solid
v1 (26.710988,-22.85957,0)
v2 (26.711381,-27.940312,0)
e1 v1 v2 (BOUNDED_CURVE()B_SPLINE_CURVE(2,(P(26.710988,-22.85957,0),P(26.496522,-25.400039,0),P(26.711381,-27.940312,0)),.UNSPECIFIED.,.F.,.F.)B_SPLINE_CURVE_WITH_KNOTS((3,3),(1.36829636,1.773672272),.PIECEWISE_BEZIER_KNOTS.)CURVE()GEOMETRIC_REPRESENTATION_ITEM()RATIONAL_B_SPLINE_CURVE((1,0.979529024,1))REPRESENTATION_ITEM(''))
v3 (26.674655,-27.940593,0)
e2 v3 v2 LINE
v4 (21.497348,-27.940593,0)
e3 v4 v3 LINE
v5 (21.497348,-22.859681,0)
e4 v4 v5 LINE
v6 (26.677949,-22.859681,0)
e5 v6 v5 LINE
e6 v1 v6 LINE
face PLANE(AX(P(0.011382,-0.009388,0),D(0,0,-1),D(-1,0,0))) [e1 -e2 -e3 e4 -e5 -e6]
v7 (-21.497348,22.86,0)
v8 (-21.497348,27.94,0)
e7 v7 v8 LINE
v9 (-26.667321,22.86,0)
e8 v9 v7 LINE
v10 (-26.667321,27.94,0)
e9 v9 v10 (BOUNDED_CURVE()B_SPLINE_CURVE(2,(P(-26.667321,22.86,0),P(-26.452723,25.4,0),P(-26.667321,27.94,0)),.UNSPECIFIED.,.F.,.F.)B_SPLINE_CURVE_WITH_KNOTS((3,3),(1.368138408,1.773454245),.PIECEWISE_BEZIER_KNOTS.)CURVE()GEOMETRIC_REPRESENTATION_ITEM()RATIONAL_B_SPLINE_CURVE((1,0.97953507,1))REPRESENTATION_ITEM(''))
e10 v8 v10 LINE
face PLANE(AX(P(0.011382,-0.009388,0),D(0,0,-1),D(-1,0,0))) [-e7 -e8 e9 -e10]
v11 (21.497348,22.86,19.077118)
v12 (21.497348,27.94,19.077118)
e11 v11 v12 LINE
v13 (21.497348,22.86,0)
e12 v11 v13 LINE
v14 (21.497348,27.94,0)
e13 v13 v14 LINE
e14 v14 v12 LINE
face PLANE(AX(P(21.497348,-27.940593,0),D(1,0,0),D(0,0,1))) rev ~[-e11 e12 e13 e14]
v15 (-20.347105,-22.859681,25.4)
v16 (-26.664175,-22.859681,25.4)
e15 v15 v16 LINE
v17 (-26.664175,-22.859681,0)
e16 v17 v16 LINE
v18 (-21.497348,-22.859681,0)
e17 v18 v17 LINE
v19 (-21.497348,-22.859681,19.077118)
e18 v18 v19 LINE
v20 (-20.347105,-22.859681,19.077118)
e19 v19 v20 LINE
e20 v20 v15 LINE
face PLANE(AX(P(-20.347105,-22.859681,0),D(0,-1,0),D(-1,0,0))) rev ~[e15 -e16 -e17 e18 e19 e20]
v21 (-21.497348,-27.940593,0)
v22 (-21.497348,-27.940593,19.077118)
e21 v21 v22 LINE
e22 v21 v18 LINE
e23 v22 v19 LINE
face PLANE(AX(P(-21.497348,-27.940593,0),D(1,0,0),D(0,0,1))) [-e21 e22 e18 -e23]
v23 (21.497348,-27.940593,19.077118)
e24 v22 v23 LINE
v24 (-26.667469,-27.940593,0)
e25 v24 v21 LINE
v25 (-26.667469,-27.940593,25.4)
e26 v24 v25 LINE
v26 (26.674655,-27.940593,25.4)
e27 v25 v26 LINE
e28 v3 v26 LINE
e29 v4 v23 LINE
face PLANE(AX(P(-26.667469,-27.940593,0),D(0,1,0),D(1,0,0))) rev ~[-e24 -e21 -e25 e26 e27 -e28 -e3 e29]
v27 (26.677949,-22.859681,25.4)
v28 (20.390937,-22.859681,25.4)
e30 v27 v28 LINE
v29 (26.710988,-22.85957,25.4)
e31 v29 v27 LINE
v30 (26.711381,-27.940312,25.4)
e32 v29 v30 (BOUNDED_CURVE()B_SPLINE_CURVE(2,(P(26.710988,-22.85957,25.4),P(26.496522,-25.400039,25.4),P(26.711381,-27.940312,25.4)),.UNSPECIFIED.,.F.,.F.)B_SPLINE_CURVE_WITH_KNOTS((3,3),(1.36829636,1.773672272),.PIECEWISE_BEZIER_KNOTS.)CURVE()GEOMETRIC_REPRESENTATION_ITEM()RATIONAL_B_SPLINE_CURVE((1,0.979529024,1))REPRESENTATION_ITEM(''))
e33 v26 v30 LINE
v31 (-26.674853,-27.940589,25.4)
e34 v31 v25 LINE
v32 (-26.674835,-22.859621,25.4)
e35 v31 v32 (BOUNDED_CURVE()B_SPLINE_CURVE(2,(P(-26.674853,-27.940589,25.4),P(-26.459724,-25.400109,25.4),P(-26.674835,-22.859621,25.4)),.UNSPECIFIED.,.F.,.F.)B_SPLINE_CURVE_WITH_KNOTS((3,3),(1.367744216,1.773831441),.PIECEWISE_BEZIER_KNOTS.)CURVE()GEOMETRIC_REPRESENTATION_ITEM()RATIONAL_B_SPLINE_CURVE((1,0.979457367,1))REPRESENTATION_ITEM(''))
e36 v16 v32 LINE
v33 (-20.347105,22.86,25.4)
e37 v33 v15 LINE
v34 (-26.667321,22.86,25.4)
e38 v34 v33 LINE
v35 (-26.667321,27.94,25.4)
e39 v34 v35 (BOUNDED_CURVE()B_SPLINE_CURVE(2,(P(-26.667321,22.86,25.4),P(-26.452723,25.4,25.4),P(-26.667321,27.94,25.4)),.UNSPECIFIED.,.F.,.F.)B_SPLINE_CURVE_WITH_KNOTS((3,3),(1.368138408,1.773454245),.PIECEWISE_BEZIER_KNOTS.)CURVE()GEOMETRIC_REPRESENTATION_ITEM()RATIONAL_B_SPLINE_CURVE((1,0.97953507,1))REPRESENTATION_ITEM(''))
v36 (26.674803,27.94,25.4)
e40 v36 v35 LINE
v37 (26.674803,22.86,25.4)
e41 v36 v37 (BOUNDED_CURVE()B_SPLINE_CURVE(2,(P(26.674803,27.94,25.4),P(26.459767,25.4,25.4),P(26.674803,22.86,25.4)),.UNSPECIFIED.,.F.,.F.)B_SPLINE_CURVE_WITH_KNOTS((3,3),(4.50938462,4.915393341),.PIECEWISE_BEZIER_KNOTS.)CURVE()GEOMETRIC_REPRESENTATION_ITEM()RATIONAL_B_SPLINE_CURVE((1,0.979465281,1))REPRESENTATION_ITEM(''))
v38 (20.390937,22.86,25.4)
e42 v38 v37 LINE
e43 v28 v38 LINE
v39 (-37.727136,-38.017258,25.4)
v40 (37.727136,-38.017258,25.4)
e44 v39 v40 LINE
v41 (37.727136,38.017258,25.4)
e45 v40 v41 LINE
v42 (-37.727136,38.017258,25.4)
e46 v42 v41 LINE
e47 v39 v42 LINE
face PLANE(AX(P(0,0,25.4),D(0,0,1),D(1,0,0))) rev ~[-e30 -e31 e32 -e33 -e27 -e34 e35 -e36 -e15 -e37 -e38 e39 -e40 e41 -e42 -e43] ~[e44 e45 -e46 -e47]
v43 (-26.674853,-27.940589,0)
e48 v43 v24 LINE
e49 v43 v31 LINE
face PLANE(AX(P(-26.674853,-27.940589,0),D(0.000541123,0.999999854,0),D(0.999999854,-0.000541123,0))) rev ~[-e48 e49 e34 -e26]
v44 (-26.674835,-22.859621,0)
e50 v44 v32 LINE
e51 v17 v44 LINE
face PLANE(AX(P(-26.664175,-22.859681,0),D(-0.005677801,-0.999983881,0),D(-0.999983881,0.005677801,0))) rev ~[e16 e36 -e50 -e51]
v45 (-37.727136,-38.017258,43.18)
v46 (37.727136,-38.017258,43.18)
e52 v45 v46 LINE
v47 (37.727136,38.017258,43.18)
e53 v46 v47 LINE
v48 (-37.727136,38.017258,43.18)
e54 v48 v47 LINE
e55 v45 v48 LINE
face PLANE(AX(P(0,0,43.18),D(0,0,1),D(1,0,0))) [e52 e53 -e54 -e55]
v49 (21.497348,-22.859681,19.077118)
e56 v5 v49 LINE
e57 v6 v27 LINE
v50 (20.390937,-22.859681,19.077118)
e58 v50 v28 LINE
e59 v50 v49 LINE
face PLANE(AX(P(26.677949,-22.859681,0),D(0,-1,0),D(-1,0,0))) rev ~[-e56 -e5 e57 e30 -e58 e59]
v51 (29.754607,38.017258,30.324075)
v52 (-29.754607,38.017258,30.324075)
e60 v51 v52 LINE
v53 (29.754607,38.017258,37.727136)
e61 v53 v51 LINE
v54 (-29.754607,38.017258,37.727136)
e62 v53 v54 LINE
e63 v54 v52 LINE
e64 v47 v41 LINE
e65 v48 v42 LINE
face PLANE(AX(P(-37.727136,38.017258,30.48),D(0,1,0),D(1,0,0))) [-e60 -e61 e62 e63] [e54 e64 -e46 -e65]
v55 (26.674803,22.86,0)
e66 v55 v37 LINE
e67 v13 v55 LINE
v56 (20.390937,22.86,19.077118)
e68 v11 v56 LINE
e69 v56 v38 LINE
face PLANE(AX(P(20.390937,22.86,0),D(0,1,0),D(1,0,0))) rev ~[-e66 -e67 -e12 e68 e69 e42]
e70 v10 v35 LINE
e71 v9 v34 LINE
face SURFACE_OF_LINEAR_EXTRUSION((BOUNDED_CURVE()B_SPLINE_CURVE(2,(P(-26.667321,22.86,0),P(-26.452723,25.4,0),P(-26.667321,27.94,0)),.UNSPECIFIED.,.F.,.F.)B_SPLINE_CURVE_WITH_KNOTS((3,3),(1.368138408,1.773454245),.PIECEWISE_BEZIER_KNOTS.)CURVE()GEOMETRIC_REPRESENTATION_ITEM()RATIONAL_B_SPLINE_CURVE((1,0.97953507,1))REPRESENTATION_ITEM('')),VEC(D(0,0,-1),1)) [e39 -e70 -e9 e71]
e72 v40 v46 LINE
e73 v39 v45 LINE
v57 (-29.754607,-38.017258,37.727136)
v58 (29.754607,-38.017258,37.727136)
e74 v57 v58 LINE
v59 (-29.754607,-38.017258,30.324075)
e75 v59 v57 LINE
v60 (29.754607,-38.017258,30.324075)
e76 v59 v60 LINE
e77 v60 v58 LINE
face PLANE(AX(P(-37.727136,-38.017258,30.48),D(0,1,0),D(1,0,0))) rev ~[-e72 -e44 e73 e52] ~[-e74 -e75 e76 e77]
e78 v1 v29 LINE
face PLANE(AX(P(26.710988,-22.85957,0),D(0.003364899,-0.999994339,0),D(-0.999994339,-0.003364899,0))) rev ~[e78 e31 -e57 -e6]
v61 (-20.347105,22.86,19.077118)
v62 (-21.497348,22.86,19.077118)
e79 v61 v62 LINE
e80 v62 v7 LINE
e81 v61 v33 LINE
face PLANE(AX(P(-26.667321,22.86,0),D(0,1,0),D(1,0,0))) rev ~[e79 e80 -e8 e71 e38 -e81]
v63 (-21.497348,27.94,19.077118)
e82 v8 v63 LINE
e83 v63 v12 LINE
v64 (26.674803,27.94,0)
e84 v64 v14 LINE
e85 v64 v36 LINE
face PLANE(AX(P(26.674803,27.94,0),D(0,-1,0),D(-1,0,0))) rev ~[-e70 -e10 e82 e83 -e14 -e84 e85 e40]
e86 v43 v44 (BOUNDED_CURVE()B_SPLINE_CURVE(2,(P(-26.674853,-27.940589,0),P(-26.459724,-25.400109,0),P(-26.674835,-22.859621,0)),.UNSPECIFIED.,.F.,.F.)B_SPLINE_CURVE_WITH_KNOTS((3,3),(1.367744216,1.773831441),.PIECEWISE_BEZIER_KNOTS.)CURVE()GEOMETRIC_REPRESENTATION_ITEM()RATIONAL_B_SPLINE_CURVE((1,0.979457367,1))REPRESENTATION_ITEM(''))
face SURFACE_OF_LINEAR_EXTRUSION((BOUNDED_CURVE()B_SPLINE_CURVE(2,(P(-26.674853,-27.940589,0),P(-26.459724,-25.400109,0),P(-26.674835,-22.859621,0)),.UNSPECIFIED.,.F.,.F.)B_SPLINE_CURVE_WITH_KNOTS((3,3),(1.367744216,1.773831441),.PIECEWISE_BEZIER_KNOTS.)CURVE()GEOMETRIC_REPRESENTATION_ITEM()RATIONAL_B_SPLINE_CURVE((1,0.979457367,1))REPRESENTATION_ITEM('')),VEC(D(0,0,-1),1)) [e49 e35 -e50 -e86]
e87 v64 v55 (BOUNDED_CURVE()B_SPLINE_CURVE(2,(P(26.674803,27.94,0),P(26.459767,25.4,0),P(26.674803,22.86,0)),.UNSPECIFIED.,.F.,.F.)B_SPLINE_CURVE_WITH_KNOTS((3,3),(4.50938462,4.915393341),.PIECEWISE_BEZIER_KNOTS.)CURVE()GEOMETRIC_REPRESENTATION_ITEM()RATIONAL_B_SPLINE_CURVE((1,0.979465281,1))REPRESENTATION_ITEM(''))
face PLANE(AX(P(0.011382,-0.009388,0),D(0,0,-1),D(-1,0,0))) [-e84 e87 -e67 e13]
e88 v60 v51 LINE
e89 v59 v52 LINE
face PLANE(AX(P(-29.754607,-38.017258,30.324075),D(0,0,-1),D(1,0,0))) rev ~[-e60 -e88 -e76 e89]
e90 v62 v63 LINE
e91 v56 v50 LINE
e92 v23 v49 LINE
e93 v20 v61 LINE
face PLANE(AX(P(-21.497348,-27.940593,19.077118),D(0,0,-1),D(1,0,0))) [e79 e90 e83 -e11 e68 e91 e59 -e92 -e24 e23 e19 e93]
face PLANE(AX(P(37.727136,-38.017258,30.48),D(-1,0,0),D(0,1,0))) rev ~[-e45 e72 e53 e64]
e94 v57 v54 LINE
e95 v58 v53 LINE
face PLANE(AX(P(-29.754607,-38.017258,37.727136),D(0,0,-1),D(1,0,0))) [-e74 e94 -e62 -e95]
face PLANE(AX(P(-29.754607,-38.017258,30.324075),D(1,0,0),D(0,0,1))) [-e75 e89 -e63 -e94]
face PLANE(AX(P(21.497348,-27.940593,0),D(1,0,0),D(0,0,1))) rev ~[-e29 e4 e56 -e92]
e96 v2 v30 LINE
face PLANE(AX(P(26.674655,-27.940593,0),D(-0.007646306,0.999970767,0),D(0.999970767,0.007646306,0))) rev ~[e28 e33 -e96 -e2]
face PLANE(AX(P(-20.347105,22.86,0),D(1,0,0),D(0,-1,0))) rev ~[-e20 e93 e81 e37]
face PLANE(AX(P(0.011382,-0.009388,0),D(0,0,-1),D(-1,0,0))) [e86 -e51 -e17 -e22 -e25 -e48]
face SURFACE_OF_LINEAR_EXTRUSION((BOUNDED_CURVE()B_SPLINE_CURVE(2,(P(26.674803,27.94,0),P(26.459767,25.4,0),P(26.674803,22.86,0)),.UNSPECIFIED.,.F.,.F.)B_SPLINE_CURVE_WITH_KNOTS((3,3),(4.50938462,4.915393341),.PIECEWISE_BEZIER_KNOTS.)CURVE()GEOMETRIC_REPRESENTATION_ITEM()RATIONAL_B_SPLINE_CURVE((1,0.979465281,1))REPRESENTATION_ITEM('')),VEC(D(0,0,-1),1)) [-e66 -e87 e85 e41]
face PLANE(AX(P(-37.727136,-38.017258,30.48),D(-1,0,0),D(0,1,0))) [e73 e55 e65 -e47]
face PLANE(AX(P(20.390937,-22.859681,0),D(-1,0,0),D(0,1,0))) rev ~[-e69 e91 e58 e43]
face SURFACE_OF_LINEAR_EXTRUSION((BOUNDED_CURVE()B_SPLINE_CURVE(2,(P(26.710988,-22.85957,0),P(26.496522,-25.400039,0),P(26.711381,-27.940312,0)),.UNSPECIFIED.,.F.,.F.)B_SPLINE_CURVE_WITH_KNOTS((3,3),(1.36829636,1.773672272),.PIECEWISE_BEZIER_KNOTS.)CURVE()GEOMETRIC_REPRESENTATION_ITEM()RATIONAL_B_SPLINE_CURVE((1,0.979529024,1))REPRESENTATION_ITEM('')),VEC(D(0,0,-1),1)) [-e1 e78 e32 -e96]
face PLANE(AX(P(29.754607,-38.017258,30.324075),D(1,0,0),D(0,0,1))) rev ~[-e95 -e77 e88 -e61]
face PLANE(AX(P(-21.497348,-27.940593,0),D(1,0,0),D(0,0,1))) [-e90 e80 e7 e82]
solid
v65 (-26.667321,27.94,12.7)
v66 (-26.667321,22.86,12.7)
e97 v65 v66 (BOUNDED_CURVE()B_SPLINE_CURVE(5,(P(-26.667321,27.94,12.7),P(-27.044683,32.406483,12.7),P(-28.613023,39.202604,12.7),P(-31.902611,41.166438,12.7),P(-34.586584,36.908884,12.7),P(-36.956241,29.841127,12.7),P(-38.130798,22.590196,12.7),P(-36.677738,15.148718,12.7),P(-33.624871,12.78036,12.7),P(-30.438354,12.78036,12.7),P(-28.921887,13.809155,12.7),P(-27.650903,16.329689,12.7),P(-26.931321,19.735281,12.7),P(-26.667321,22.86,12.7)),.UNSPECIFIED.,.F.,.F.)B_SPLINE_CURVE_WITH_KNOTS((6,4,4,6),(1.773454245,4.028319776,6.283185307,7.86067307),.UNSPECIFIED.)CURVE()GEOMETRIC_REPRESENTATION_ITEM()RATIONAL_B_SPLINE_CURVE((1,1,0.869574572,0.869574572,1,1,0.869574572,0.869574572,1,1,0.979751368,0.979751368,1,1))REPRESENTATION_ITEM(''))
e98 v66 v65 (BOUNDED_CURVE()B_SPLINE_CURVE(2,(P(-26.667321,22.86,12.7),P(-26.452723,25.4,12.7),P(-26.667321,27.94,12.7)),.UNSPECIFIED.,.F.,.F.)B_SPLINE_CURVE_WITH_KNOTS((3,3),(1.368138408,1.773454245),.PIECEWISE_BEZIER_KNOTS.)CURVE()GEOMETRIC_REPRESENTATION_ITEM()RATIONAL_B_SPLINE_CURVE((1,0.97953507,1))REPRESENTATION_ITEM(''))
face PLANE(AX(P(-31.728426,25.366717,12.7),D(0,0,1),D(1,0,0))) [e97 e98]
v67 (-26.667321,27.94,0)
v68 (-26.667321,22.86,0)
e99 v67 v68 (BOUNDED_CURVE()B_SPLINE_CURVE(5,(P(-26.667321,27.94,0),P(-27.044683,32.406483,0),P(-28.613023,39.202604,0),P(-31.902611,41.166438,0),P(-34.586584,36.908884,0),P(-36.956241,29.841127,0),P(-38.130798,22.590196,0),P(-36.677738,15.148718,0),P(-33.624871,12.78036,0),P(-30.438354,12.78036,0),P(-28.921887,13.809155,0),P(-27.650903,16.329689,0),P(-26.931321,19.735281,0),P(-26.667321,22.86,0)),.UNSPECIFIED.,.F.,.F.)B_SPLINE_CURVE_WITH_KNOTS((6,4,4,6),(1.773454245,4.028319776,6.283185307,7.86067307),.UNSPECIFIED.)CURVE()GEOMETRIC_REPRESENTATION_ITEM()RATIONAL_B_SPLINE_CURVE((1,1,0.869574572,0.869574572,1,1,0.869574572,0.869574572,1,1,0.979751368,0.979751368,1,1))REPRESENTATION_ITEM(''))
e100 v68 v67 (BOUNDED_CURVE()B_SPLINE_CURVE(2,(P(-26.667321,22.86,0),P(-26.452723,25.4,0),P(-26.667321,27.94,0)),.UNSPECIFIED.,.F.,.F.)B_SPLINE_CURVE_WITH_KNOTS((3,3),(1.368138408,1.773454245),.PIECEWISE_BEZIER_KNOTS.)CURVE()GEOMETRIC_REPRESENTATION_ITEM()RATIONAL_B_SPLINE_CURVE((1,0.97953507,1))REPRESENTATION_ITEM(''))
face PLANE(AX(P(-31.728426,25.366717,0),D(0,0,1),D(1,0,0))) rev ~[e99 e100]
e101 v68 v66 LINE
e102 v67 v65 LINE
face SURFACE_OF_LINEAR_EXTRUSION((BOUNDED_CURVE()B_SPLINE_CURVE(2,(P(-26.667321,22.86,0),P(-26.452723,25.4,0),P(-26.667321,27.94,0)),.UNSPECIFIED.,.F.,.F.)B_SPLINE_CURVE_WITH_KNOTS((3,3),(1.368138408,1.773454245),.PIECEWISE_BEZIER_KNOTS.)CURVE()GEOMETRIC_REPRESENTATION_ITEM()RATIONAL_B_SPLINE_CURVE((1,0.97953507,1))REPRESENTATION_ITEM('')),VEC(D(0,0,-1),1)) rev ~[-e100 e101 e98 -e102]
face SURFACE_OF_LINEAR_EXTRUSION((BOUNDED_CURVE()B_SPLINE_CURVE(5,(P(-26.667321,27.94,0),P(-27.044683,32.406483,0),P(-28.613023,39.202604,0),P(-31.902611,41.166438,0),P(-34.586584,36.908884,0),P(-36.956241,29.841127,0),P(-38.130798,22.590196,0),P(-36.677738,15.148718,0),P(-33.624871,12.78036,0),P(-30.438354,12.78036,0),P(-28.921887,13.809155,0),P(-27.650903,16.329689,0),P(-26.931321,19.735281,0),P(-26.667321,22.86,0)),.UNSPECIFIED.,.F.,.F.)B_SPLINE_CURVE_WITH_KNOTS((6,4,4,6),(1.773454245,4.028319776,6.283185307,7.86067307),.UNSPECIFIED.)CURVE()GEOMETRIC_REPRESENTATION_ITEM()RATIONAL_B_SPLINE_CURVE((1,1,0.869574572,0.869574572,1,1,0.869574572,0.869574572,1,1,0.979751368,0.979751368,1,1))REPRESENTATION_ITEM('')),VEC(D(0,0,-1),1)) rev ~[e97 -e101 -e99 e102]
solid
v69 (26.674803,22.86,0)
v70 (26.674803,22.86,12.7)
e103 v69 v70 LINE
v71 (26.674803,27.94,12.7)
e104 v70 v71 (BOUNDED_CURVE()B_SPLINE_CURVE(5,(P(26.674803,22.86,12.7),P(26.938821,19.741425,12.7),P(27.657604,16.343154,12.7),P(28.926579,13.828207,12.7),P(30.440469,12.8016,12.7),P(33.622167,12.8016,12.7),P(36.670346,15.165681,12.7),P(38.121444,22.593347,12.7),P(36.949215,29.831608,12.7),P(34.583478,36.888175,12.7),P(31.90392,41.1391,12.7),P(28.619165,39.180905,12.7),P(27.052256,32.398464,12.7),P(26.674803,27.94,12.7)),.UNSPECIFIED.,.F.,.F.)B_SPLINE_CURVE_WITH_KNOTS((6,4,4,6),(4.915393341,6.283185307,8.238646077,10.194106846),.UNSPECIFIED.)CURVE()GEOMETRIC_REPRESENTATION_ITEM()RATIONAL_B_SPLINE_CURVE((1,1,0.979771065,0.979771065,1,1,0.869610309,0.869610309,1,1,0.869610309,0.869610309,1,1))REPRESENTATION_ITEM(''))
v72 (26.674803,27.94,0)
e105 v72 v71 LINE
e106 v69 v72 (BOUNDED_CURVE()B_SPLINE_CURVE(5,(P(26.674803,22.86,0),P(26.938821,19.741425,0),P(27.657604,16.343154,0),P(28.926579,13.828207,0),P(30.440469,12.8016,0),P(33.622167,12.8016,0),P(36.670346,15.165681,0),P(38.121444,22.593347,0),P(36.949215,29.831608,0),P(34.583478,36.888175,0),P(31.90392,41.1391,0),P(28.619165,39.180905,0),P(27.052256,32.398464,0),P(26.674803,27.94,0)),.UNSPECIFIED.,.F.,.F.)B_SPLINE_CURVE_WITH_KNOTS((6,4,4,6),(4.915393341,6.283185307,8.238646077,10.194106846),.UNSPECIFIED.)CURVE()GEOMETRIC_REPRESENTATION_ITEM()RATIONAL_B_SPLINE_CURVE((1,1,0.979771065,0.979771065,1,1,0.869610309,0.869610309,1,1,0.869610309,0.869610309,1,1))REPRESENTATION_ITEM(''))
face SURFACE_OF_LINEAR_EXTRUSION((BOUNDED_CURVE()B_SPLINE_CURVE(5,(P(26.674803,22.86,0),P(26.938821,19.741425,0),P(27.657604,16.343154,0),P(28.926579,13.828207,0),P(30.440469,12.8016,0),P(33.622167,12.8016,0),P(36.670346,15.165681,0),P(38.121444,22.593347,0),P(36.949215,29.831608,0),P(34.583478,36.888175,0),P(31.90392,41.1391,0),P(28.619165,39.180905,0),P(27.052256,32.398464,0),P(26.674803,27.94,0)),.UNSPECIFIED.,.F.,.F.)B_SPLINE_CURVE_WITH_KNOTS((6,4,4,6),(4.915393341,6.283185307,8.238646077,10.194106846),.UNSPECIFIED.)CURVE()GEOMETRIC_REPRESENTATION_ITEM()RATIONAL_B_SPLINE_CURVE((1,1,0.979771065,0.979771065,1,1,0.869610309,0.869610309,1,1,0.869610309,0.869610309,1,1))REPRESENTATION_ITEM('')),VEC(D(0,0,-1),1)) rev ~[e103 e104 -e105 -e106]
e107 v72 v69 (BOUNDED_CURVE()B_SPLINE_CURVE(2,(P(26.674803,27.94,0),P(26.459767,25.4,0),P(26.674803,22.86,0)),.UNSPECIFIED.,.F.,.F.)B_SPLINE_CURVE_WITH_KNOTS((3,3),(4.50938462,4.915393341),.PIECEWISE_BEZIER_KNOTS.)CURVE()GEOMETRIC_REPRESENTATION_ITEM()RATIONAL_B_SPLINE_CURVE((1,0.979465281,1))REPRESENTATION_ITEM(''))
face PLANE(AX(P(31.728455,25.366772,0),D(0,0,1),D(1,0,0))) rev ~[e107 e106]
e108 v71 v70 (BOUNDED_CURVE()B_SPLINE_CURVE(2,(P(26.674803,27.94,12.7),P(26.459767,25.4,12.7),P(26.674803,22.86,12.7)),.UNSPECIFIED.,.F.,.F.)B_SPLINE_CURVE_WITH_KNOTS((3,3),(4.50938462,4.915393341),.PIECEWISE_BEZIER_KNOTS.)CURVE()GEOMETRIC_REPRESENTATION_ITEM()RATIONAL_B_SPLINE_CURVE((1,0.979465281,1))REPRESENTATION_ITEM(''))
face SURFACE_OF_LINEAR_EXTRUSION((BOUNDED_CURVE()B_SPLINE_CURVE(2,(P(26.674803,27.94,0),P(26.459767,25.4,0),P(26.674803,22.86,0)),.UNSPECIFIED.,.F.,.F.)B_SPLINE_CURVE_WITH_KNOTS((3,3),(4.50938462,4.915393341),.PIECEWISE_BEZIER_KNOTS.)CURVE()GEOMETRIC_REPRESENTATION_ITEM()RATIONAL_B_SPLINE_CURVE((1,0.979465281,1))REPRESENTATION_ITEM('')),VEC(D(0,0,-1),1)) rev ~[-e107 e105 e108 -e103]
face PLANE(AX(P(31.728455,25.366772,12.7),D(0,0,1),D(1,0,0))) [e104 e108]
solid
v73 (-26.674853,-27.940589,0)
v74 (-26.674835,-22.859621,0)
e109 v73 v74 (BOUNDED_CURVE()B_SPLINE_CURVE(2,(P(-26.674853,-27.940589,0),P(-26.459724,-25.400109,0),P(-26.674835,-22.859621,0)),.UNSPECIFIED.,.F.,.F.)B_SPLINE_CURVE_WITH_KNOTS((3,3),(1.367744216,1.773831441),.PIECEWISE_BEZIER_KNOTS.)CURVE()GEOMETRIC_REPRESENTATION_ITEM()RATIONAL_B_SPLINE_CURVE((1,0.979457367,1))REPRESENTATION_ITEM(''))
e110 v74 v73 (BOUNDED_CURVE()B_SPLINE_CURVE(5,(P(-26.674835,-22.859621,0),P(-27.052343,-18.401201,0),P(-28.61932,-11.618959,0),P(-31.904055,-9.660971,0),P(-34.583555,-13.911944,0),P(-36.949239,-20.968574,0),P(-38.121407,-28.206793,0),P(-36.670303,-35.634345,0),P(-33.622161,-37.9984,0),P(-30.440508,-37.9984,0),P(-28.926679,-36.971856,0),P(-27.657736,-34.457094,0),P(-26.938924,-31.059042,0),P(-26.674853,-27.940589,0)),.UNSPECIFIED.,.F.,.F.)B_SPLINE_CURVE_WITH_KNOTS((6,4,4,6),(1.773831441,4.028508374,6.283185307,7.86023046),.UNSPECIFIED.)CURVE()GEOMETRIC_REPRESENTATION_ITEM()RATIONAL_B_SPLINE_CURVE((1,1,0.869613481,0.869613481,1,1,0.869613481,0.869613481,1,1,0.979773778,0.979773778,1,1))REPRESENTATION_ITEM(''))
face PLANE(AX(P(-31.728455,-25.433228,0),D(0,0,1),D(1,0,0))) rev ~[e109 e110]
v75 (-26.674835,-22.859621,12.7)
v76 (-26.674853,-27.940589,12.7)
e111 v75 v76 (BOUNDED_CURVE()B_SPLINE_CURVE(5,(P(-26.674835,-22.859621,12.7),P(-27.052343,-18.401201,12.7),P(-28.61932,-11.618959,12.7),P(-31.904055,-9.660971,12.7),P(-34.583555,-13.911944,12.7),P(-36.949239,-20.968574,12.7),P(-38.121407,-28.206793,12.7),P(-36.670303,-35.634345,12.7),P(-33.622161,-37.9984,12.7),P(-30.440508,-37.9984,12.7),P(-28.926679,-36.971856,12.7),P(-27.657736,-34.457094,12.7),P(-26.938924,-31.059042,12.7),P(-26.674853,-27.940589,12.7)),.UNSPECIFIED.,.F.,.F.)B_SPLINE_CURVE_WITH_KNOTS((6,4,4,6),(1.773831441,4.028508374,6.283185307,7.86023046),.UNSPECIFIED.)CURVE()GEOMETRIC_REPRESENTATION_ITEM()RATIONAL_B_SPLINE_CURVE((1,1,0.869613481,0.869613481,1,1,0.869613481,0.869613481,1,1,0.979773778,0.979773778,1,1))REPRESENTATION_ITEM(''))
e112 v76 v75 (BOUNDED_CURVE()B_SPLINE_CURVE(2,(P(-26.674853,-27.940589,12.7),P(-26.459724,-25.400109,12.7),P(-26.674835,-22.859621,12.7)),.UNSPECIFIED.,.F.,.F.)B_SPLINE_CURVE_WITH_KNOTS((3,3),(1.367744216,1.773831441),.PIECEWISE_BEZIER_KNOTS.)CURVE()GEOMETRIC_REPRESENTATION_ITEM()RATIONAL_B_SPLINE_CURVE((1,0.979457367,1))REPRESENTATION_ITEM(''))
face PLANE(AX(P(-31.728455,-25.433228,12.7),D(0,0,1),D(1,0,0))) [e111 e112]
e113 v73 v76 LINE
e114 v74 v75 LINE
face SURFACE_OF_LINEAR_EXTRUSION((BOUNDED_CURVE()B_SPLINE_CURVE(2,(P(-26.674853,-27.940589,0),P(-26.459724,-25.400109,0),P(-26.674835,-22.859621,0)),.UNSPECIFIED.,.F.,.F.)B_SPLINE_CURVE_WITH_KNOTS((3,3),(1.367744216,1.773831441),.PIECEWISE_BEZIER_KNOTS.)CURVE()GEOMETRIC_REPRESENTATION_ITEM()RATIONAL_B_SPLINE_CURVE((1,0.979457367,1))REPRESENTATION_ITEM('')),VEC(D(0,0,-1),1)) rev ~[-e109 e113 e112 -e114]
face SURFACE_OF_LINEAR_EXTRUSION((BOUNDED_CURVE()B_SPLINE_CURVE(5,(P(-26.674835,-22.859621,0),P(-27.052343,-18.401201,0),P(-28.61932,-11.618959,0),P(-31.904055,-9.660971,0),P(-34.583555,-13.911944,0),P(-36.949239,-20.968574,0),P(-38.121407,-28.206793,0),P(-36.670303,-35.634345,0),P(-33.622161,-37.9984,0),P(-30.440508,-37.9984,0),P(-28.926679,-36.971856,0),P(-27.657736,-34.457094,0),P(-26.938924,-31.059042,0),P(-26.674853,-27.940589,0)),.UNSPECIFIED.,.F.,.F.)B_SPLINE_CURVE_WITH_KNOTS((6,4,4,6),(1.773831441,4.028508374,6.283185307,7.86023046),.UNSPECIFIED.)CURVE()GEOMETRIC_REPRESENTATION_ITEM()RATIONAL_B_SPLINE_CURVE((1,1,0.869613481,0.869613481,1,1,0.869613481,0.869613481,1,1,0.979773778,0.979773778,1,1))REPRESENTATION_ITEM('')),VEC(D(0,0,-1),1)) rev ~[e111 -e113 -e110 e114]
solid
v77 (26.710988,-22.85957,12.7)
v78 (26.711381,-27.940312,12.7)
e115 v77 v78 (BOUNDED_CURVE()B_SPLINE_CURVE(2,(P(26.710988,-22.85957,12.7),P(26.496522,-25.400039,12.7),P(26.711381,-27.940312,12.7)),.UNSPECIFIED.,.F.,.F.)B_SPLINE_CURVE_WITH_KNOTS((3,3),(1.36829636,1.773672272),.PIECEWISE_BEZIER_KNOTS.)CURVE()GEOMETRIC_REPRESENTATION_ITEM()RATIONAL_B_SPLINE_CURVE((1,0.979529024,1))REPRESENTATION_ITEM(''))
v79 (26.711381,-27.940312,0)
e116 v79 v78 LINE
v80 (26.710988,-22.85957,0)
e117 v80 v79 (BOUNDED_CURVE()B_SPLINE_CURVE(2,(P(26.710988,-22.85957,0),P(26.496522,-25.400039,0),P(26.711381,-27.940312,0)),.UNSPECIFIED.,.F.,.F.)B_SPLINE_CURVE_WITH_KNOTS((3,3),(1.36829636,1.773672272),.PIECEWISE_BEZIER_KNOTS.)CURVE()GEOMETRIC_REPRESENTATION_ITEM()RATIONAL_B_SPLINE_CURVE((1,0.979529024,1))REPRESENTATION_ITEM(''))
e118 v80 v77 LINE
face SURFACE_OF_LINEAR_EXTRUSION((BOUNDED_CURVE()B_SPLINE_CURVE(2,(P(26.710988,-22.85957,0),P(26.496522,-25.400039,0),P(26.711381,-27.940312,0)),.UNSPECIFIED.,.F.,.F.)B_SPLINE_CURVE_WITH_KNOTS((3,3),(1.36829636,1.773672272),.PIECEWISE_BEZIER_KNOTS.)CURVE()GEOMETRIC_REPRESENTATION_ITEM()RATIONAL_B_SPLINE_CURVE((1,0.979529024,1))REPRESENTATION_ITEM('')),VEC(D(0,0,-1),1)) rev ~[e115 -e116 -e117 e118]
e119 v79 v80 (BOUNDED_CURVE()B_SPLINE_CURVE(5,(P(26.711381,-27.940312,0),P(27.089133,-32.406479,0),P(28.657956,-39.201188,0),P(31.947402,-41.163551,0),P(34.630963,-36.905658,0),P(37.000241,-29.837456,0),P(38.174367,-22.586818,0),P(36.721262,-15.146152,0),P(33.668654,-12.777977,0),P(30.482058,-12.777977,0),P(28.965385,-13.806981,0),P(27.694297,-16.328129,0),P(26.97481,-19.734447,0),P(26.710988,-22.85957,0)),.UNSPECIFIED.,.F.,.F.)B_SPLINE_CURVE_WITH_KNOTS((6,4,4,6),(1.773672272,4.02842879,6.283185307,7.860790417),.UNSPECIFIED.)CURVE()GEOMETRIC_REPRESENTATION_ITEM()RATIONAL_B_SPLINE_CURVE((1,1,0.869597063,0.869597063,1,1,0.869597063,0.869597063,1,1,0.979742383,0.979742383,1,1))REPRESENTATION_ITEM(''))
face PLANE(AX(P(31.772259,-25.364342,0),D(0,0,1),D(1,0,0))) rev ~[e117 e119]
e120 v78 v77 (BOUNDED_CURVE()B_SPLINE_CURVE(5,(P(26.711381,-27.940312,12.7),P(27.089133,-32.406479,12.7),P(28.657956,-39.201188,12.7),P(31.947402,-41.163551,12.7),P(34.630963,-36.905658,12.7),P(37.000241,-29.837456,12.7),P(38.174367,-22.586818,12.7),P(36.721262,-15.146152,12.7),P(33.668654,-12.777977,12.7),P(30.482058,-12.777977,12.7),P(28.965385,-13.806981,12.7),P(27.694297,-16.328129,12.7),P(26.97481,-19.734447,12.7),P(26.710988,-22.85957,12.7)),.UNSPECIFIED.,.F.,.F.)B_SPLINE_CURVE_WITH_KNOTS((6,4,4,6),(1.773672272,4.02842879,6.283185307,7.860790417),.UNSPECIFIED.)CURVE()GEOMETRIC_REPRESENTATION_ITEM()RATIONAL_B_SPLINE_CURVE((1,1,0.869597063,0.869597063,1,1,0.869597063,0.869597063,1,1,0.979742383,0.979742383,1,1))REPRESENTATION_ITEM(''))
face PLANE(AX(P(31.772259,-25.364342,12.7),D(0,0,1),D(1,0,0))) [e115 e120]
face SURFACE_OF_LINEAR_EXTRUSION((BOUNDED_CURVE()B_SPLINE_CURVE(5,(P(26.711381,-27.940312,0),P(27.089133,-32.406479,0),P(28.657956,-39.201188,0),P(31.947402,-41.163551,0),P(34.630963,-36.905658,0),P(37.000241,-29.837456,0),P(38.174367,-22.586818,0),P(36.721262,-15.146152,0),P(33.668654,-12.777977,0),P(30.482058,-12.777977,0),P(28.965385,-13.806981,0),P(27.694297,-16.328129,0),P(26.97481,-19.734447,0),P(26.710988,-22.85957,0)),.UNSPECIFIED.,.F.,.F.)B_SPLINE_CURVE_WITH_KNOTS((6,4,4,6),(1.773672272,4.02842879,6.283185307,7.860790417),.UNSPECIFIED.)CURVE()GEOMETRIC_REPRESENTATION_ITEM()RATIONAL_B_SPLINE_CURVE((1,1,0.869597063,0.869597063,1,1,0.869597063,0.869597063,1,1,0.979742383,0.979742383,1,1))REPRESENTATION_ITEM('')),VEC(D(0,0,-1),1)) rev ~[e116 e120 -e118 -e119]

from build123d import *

# Parameters (mm, degrees)
F1_DEPTH  = 12.7
F2_DEPTH  = 25.4
F3_W      = 75.4542723298
F3_H      = 76.0345155845
F4_DEPTH  = 5.08
F5_W      = 75.4542723298
F5_H      = 76.0345155845
F5_W_2    = 62.7542723298
F5_H_2    = 63.3345155845
F6_DEPTH  = 12.7
F7_W      = 59.5092140138
F7_H      = 7.4030607939
F8_DEPTH  = 76.2
F9_W      = 42.9946966469
F9_H      = 19.0771184862
F10_DEPTH = 76.2


with BuildPart() as f1:
    # F0 (on Top) → F1 (new body)
    with BuildSketch(Plane.XY):
        with BuildLine():
            add(Edge.make_bspline(
                [(-26.6673212629, 27.94), (-28.8665013823, 53.9696522782), (-35.7714125826, 33.37500591), (-42.676323783, 12.7803595418), (-31.75, 12.7803595418)],
                knots=[1.7734542453, 1.7734542453, 1.7734542453, 4.0283197763, 4.0283197763, 6.2831853072, 6.2831853072, 6.2831853072], degree=2, weights=[1, 0.4289802376, 1, 0.4289802376, 1]))
            add(Edge.make_bspline(
                [(-31.75, 12.7803595418), (-27.5189248367, 12.7803595418), (-26.6673212629, 22.86)],
                knots=[0, 0, 0, 1.3681384083, 1.3681384083, 1.3681384083], degree=2, weights=[1, 0.775007601, 1]))
            add(Edge.make_bspline(
                [(-26.6673212629, 22.86), (-26.4527230254, 25.4), (-26.6673212629, 27.94)],
                knots=[1.3681384083, 1.3681384083, 1.3681384083, 1.7734542453, 1.7734542453, 1.7734542453], degree=2, weights=[1, 0.9795350697, 1]))
        make_face()
    extrude(amount=F1_DEPTH)


with BuildPart() as f1b:
    # F0 (on Top) → F1, piece 2 (new body)
    with BuildSketch(Plane.XY):
        with BuildLine():
            add(Edge.make_bspline(
                [(31.7938316671, -12.7779768759), (27.5620741915, -12.7779768759), (26.7109880314, -22.8595698679)],
                knots=[0, 0, 0, 1.36829636, 1.36829636, 1.36829636], degree=2, weights=[1, 0.7749576896, 1]))
            add(Edge.make_bspline(
                [(26.7109880314, -22.8595698679), (26.4965220883, -25.4000392711), (26.7113807542, -27.9403123866)],
                knots=[1.36829636, 1.36829636, 1.36829636, 1.7736722722, 1.7736722722, 1.7736722722], degree=2, weights=[1, 0.9795290235, 1]))
            add(Edge.make_bspline(
                [(26.7113807542, -27.9403123866), (28.9125846693, -53.9651371457), (35.8156016935, -33.3715570108), (42.7186187177, -12.7779768759), (31.7938316671, -12.7779768759)],
                knots=[1.7736722722, 1.7736722722, 1.7736722722, 4.0284287897, 4.0284287897, 6.2831853072, 6.2831853072, 6.2831853072], degree=2, weights=[1, 0.4290294736, 1, 0.4290294736, 1]))
        make_face()
    extrude(amount=F1_DEPTH)


with BuildPart() as f1c:
    # F0 (on Top) → F1, piece 3 (new body)
    with BuildSketch(Plane.XY):
        with BuildLine():
            add(Edge.make_bspline(
                [(31.75, 12.8016), (42.6585799166, 12.8016), (35.7663465411, 33.3598915369), (28.8741131655, 53.9181830739), (26.6748026985, 27.94)],
                knots=[0, 0, 0, 2.2546923099, 2.2546923099, 4.5093846197, 4.5093846197, 4.5093846197], degree=2, weights=[1, 0.4290584725, 1, 0.4290584725, 1]))
            add(Edge.make_bspline(
                [(26.6748026985, 27.94), (26.4597665441, 25.4), (26.6748026985, 22.86)],
                knots=[4.5093846197, 4.5093846197, 4.5093846197, 4.915393341, 4.915393341, 4.915393341], degree=2, weights=[1, 0.9794652813, 1]))
            add(Edge.make_bspline(
                [(26.6748026985, 22.86), (27.5263458699, 12.8016), (31.75, 12.8016)],
                knots=[4.915393341, 4.915393341, 4.915393341, 6.2831853072, 6.2831853072, 6.2831853072], degree=2, weights=[1, 0.7751170567, 1]))
        make_face()
    extrude(amount=F1_DEPTH)


with BuildPart() as f1d:
    # F0 (on Top) → F1, piece 4 (new body)
    with BuildSketch(Plane.XY):
        with BuildLine():
            add(Edge.make_bspline(
                [(-26.6748525876, -27.940589218), (-26.4597237971, -25.4001093108), (-26.6748348282, -22.8596205137)],
                knots=[1.3677442161, 1.3677442161, 1.3677442161, 1.7738314409, 1.7738314409, 1.7738314409], degree=2, weights=[1, 0.9794573669, 1]))
            add(Edge.make_bspline(
                [(-26.6748348282, -22.8596205137), (-28.8744302457, 3.1178827579), (-35.7663968812, -17.440258621), (-42.6583635168, -37.9984), (-31.75, -37.9984)],
                knots=[1.7738314409, 1.7738314409, 1.7738314409, 4.028508374, 4.028508374, 6.2831853072, 6.2831853072, 6.2831853072], degree=2, weights=[1, 0.4290654172, 1, 0.4290654172, 1]))
            add(Edge.make_bspline(
                [(-31.75, -37.9984), (-27.5265517738, -37.9984), (-26.6748525876, -27.940589218)],
                knots=[0, 0, 0, 1.3677442161, 1.3677442161, 1.3677442161], degree=2, weights=[1, 0.7751321412, 1]))
        make_face()
    extrude(amount=F1_DEPTH)


with BuildPart() as f2:
    # F0 (on Top) → F2 (new body)
    with BuildSketch(Plane.XY):
        with BuildLine():
            add(Edge.make_bspline(
                [(-26.6673212629, 22.86), (-26.4527230254, 25.4), (-26.6673212629, 27.94)],
                knots=[1.3681384083, 1.3681384083, 1.3681384083, 1.7734542453, 1.7734542453, 1.7734542453], degree=2, weights=[1, 0.9795350697, 1]))
            Line((-26.6673212629, 22.86), (-20.3471054377, 22.86))
            Line((-20.3471054377, 22.86), (-20.3471054377, -22.8596810407))
            Line((-20.3471054377, -22.8596810407), (-26.6641747104, -22.8596810407))
            Line((-26.6641747104, -22.8596810407), (-26.6748348282, -22.8596205137))
            add(Edge.make_bspline(
                [(-26.6748525876, -27.940589218), (-26.4597237971, -25.4001093108), (-26.6748348282, -22.8596205137)],
                knots=[1.3677442161, 1.3677442161, 1.3677442161, 1.7738314409, 1.7738314409, 1.7738314409], degree=2, weights=[1, 0.9794573669, 1]))
            Line((-26.6748525876, -27.940589218), (-26.6674692391, -27.9405932133))
            Line((-26.6674692391, -27.9405932133), (26.6746547223, -27.9405932133))
            Line((26.6746547223, -27.9405932133), (26.7113807542, -27.9403123866))
            add(Edge.make_bspline(
                [(26.7109880314, -22.8595698679), (26.4965220883, -25.4000392711), (26.7113807542, -27.9403123866)],
                knots=[1.36829636, 1.36829636, 1.36829636, 1.7736722722, 1.7736722722, 1.7736722722], degree=2, weights=[1, 0.9795290235, 1]))
            Line((26.7109880314, -22.8595698679), (26.677949251, -22.8596810407))
            Line((26.677949251, -22.8596810407), (20.3909371048, -22.8596810407))
            Line((20.3909371048, -22.8596810407), (20.3909371048, 22.86))
            Line((20.3909371048, 22.86), (26.6748026985, 22.86))
            add(Edge.make_bspline(
                [(26.6748026985, 27.94), (26.4597665441, 25.4), (26.6748026985, 22.86)],
                knots=[4.5093846197, 4.5093846197, 4.5093846197, 4.915393341, 4.915393341, 4.915393341], degree=2, weights=[1, 0.9794652813, 1]))
            Line((26.6748026985, 27.94), (-26.6673212629, 27.94))
        make_face()
    extrude(amount=F2_DEPTH)

    # F3 (on face) → F4 (join)
    with BuildSketch(Plane.XY.offset(25.4)):
        Rectangle(F3_W, F3_H)
    extrude(amount=F4_DEPTH)

    # F5 (on face) → F6 (join)
    with BuildSketch(Plane.XY.offset(30.48)):
        Rectangle(F5_W, F5_H)
        Rectangle(F5_W_2, F5_H_2, mode=Mode.SUBTRACT)
        Rectangle(F5_W_2, F5_H_2)
    extrude(amount=F6_DEPTH)

    # F7 (on face) → F8 (cut)
    with BuildSketch(Plane.XZ.offset(38.0172577923)):
        with Locations((0, 34.025605768)):
            Rectangle(F7_W, F7_H)
    extrude(amount=-F8_DEPTH, mode=Mode.SUBTRACT)

    # F9 (on face) → F10 (cut)
    with BuildSketch(Plane.XZ.offset(27.9405932133)):
        with Locations((0, 9.5385592431)):
            Rectangle(F9_W, F9_H)
    extrude(amount=-F10_DEPTH, mode=Mode.SUBTRACT)


solid = Compound([f1.part, f1b.part, f1c.part, f1d.part, f2.part])
